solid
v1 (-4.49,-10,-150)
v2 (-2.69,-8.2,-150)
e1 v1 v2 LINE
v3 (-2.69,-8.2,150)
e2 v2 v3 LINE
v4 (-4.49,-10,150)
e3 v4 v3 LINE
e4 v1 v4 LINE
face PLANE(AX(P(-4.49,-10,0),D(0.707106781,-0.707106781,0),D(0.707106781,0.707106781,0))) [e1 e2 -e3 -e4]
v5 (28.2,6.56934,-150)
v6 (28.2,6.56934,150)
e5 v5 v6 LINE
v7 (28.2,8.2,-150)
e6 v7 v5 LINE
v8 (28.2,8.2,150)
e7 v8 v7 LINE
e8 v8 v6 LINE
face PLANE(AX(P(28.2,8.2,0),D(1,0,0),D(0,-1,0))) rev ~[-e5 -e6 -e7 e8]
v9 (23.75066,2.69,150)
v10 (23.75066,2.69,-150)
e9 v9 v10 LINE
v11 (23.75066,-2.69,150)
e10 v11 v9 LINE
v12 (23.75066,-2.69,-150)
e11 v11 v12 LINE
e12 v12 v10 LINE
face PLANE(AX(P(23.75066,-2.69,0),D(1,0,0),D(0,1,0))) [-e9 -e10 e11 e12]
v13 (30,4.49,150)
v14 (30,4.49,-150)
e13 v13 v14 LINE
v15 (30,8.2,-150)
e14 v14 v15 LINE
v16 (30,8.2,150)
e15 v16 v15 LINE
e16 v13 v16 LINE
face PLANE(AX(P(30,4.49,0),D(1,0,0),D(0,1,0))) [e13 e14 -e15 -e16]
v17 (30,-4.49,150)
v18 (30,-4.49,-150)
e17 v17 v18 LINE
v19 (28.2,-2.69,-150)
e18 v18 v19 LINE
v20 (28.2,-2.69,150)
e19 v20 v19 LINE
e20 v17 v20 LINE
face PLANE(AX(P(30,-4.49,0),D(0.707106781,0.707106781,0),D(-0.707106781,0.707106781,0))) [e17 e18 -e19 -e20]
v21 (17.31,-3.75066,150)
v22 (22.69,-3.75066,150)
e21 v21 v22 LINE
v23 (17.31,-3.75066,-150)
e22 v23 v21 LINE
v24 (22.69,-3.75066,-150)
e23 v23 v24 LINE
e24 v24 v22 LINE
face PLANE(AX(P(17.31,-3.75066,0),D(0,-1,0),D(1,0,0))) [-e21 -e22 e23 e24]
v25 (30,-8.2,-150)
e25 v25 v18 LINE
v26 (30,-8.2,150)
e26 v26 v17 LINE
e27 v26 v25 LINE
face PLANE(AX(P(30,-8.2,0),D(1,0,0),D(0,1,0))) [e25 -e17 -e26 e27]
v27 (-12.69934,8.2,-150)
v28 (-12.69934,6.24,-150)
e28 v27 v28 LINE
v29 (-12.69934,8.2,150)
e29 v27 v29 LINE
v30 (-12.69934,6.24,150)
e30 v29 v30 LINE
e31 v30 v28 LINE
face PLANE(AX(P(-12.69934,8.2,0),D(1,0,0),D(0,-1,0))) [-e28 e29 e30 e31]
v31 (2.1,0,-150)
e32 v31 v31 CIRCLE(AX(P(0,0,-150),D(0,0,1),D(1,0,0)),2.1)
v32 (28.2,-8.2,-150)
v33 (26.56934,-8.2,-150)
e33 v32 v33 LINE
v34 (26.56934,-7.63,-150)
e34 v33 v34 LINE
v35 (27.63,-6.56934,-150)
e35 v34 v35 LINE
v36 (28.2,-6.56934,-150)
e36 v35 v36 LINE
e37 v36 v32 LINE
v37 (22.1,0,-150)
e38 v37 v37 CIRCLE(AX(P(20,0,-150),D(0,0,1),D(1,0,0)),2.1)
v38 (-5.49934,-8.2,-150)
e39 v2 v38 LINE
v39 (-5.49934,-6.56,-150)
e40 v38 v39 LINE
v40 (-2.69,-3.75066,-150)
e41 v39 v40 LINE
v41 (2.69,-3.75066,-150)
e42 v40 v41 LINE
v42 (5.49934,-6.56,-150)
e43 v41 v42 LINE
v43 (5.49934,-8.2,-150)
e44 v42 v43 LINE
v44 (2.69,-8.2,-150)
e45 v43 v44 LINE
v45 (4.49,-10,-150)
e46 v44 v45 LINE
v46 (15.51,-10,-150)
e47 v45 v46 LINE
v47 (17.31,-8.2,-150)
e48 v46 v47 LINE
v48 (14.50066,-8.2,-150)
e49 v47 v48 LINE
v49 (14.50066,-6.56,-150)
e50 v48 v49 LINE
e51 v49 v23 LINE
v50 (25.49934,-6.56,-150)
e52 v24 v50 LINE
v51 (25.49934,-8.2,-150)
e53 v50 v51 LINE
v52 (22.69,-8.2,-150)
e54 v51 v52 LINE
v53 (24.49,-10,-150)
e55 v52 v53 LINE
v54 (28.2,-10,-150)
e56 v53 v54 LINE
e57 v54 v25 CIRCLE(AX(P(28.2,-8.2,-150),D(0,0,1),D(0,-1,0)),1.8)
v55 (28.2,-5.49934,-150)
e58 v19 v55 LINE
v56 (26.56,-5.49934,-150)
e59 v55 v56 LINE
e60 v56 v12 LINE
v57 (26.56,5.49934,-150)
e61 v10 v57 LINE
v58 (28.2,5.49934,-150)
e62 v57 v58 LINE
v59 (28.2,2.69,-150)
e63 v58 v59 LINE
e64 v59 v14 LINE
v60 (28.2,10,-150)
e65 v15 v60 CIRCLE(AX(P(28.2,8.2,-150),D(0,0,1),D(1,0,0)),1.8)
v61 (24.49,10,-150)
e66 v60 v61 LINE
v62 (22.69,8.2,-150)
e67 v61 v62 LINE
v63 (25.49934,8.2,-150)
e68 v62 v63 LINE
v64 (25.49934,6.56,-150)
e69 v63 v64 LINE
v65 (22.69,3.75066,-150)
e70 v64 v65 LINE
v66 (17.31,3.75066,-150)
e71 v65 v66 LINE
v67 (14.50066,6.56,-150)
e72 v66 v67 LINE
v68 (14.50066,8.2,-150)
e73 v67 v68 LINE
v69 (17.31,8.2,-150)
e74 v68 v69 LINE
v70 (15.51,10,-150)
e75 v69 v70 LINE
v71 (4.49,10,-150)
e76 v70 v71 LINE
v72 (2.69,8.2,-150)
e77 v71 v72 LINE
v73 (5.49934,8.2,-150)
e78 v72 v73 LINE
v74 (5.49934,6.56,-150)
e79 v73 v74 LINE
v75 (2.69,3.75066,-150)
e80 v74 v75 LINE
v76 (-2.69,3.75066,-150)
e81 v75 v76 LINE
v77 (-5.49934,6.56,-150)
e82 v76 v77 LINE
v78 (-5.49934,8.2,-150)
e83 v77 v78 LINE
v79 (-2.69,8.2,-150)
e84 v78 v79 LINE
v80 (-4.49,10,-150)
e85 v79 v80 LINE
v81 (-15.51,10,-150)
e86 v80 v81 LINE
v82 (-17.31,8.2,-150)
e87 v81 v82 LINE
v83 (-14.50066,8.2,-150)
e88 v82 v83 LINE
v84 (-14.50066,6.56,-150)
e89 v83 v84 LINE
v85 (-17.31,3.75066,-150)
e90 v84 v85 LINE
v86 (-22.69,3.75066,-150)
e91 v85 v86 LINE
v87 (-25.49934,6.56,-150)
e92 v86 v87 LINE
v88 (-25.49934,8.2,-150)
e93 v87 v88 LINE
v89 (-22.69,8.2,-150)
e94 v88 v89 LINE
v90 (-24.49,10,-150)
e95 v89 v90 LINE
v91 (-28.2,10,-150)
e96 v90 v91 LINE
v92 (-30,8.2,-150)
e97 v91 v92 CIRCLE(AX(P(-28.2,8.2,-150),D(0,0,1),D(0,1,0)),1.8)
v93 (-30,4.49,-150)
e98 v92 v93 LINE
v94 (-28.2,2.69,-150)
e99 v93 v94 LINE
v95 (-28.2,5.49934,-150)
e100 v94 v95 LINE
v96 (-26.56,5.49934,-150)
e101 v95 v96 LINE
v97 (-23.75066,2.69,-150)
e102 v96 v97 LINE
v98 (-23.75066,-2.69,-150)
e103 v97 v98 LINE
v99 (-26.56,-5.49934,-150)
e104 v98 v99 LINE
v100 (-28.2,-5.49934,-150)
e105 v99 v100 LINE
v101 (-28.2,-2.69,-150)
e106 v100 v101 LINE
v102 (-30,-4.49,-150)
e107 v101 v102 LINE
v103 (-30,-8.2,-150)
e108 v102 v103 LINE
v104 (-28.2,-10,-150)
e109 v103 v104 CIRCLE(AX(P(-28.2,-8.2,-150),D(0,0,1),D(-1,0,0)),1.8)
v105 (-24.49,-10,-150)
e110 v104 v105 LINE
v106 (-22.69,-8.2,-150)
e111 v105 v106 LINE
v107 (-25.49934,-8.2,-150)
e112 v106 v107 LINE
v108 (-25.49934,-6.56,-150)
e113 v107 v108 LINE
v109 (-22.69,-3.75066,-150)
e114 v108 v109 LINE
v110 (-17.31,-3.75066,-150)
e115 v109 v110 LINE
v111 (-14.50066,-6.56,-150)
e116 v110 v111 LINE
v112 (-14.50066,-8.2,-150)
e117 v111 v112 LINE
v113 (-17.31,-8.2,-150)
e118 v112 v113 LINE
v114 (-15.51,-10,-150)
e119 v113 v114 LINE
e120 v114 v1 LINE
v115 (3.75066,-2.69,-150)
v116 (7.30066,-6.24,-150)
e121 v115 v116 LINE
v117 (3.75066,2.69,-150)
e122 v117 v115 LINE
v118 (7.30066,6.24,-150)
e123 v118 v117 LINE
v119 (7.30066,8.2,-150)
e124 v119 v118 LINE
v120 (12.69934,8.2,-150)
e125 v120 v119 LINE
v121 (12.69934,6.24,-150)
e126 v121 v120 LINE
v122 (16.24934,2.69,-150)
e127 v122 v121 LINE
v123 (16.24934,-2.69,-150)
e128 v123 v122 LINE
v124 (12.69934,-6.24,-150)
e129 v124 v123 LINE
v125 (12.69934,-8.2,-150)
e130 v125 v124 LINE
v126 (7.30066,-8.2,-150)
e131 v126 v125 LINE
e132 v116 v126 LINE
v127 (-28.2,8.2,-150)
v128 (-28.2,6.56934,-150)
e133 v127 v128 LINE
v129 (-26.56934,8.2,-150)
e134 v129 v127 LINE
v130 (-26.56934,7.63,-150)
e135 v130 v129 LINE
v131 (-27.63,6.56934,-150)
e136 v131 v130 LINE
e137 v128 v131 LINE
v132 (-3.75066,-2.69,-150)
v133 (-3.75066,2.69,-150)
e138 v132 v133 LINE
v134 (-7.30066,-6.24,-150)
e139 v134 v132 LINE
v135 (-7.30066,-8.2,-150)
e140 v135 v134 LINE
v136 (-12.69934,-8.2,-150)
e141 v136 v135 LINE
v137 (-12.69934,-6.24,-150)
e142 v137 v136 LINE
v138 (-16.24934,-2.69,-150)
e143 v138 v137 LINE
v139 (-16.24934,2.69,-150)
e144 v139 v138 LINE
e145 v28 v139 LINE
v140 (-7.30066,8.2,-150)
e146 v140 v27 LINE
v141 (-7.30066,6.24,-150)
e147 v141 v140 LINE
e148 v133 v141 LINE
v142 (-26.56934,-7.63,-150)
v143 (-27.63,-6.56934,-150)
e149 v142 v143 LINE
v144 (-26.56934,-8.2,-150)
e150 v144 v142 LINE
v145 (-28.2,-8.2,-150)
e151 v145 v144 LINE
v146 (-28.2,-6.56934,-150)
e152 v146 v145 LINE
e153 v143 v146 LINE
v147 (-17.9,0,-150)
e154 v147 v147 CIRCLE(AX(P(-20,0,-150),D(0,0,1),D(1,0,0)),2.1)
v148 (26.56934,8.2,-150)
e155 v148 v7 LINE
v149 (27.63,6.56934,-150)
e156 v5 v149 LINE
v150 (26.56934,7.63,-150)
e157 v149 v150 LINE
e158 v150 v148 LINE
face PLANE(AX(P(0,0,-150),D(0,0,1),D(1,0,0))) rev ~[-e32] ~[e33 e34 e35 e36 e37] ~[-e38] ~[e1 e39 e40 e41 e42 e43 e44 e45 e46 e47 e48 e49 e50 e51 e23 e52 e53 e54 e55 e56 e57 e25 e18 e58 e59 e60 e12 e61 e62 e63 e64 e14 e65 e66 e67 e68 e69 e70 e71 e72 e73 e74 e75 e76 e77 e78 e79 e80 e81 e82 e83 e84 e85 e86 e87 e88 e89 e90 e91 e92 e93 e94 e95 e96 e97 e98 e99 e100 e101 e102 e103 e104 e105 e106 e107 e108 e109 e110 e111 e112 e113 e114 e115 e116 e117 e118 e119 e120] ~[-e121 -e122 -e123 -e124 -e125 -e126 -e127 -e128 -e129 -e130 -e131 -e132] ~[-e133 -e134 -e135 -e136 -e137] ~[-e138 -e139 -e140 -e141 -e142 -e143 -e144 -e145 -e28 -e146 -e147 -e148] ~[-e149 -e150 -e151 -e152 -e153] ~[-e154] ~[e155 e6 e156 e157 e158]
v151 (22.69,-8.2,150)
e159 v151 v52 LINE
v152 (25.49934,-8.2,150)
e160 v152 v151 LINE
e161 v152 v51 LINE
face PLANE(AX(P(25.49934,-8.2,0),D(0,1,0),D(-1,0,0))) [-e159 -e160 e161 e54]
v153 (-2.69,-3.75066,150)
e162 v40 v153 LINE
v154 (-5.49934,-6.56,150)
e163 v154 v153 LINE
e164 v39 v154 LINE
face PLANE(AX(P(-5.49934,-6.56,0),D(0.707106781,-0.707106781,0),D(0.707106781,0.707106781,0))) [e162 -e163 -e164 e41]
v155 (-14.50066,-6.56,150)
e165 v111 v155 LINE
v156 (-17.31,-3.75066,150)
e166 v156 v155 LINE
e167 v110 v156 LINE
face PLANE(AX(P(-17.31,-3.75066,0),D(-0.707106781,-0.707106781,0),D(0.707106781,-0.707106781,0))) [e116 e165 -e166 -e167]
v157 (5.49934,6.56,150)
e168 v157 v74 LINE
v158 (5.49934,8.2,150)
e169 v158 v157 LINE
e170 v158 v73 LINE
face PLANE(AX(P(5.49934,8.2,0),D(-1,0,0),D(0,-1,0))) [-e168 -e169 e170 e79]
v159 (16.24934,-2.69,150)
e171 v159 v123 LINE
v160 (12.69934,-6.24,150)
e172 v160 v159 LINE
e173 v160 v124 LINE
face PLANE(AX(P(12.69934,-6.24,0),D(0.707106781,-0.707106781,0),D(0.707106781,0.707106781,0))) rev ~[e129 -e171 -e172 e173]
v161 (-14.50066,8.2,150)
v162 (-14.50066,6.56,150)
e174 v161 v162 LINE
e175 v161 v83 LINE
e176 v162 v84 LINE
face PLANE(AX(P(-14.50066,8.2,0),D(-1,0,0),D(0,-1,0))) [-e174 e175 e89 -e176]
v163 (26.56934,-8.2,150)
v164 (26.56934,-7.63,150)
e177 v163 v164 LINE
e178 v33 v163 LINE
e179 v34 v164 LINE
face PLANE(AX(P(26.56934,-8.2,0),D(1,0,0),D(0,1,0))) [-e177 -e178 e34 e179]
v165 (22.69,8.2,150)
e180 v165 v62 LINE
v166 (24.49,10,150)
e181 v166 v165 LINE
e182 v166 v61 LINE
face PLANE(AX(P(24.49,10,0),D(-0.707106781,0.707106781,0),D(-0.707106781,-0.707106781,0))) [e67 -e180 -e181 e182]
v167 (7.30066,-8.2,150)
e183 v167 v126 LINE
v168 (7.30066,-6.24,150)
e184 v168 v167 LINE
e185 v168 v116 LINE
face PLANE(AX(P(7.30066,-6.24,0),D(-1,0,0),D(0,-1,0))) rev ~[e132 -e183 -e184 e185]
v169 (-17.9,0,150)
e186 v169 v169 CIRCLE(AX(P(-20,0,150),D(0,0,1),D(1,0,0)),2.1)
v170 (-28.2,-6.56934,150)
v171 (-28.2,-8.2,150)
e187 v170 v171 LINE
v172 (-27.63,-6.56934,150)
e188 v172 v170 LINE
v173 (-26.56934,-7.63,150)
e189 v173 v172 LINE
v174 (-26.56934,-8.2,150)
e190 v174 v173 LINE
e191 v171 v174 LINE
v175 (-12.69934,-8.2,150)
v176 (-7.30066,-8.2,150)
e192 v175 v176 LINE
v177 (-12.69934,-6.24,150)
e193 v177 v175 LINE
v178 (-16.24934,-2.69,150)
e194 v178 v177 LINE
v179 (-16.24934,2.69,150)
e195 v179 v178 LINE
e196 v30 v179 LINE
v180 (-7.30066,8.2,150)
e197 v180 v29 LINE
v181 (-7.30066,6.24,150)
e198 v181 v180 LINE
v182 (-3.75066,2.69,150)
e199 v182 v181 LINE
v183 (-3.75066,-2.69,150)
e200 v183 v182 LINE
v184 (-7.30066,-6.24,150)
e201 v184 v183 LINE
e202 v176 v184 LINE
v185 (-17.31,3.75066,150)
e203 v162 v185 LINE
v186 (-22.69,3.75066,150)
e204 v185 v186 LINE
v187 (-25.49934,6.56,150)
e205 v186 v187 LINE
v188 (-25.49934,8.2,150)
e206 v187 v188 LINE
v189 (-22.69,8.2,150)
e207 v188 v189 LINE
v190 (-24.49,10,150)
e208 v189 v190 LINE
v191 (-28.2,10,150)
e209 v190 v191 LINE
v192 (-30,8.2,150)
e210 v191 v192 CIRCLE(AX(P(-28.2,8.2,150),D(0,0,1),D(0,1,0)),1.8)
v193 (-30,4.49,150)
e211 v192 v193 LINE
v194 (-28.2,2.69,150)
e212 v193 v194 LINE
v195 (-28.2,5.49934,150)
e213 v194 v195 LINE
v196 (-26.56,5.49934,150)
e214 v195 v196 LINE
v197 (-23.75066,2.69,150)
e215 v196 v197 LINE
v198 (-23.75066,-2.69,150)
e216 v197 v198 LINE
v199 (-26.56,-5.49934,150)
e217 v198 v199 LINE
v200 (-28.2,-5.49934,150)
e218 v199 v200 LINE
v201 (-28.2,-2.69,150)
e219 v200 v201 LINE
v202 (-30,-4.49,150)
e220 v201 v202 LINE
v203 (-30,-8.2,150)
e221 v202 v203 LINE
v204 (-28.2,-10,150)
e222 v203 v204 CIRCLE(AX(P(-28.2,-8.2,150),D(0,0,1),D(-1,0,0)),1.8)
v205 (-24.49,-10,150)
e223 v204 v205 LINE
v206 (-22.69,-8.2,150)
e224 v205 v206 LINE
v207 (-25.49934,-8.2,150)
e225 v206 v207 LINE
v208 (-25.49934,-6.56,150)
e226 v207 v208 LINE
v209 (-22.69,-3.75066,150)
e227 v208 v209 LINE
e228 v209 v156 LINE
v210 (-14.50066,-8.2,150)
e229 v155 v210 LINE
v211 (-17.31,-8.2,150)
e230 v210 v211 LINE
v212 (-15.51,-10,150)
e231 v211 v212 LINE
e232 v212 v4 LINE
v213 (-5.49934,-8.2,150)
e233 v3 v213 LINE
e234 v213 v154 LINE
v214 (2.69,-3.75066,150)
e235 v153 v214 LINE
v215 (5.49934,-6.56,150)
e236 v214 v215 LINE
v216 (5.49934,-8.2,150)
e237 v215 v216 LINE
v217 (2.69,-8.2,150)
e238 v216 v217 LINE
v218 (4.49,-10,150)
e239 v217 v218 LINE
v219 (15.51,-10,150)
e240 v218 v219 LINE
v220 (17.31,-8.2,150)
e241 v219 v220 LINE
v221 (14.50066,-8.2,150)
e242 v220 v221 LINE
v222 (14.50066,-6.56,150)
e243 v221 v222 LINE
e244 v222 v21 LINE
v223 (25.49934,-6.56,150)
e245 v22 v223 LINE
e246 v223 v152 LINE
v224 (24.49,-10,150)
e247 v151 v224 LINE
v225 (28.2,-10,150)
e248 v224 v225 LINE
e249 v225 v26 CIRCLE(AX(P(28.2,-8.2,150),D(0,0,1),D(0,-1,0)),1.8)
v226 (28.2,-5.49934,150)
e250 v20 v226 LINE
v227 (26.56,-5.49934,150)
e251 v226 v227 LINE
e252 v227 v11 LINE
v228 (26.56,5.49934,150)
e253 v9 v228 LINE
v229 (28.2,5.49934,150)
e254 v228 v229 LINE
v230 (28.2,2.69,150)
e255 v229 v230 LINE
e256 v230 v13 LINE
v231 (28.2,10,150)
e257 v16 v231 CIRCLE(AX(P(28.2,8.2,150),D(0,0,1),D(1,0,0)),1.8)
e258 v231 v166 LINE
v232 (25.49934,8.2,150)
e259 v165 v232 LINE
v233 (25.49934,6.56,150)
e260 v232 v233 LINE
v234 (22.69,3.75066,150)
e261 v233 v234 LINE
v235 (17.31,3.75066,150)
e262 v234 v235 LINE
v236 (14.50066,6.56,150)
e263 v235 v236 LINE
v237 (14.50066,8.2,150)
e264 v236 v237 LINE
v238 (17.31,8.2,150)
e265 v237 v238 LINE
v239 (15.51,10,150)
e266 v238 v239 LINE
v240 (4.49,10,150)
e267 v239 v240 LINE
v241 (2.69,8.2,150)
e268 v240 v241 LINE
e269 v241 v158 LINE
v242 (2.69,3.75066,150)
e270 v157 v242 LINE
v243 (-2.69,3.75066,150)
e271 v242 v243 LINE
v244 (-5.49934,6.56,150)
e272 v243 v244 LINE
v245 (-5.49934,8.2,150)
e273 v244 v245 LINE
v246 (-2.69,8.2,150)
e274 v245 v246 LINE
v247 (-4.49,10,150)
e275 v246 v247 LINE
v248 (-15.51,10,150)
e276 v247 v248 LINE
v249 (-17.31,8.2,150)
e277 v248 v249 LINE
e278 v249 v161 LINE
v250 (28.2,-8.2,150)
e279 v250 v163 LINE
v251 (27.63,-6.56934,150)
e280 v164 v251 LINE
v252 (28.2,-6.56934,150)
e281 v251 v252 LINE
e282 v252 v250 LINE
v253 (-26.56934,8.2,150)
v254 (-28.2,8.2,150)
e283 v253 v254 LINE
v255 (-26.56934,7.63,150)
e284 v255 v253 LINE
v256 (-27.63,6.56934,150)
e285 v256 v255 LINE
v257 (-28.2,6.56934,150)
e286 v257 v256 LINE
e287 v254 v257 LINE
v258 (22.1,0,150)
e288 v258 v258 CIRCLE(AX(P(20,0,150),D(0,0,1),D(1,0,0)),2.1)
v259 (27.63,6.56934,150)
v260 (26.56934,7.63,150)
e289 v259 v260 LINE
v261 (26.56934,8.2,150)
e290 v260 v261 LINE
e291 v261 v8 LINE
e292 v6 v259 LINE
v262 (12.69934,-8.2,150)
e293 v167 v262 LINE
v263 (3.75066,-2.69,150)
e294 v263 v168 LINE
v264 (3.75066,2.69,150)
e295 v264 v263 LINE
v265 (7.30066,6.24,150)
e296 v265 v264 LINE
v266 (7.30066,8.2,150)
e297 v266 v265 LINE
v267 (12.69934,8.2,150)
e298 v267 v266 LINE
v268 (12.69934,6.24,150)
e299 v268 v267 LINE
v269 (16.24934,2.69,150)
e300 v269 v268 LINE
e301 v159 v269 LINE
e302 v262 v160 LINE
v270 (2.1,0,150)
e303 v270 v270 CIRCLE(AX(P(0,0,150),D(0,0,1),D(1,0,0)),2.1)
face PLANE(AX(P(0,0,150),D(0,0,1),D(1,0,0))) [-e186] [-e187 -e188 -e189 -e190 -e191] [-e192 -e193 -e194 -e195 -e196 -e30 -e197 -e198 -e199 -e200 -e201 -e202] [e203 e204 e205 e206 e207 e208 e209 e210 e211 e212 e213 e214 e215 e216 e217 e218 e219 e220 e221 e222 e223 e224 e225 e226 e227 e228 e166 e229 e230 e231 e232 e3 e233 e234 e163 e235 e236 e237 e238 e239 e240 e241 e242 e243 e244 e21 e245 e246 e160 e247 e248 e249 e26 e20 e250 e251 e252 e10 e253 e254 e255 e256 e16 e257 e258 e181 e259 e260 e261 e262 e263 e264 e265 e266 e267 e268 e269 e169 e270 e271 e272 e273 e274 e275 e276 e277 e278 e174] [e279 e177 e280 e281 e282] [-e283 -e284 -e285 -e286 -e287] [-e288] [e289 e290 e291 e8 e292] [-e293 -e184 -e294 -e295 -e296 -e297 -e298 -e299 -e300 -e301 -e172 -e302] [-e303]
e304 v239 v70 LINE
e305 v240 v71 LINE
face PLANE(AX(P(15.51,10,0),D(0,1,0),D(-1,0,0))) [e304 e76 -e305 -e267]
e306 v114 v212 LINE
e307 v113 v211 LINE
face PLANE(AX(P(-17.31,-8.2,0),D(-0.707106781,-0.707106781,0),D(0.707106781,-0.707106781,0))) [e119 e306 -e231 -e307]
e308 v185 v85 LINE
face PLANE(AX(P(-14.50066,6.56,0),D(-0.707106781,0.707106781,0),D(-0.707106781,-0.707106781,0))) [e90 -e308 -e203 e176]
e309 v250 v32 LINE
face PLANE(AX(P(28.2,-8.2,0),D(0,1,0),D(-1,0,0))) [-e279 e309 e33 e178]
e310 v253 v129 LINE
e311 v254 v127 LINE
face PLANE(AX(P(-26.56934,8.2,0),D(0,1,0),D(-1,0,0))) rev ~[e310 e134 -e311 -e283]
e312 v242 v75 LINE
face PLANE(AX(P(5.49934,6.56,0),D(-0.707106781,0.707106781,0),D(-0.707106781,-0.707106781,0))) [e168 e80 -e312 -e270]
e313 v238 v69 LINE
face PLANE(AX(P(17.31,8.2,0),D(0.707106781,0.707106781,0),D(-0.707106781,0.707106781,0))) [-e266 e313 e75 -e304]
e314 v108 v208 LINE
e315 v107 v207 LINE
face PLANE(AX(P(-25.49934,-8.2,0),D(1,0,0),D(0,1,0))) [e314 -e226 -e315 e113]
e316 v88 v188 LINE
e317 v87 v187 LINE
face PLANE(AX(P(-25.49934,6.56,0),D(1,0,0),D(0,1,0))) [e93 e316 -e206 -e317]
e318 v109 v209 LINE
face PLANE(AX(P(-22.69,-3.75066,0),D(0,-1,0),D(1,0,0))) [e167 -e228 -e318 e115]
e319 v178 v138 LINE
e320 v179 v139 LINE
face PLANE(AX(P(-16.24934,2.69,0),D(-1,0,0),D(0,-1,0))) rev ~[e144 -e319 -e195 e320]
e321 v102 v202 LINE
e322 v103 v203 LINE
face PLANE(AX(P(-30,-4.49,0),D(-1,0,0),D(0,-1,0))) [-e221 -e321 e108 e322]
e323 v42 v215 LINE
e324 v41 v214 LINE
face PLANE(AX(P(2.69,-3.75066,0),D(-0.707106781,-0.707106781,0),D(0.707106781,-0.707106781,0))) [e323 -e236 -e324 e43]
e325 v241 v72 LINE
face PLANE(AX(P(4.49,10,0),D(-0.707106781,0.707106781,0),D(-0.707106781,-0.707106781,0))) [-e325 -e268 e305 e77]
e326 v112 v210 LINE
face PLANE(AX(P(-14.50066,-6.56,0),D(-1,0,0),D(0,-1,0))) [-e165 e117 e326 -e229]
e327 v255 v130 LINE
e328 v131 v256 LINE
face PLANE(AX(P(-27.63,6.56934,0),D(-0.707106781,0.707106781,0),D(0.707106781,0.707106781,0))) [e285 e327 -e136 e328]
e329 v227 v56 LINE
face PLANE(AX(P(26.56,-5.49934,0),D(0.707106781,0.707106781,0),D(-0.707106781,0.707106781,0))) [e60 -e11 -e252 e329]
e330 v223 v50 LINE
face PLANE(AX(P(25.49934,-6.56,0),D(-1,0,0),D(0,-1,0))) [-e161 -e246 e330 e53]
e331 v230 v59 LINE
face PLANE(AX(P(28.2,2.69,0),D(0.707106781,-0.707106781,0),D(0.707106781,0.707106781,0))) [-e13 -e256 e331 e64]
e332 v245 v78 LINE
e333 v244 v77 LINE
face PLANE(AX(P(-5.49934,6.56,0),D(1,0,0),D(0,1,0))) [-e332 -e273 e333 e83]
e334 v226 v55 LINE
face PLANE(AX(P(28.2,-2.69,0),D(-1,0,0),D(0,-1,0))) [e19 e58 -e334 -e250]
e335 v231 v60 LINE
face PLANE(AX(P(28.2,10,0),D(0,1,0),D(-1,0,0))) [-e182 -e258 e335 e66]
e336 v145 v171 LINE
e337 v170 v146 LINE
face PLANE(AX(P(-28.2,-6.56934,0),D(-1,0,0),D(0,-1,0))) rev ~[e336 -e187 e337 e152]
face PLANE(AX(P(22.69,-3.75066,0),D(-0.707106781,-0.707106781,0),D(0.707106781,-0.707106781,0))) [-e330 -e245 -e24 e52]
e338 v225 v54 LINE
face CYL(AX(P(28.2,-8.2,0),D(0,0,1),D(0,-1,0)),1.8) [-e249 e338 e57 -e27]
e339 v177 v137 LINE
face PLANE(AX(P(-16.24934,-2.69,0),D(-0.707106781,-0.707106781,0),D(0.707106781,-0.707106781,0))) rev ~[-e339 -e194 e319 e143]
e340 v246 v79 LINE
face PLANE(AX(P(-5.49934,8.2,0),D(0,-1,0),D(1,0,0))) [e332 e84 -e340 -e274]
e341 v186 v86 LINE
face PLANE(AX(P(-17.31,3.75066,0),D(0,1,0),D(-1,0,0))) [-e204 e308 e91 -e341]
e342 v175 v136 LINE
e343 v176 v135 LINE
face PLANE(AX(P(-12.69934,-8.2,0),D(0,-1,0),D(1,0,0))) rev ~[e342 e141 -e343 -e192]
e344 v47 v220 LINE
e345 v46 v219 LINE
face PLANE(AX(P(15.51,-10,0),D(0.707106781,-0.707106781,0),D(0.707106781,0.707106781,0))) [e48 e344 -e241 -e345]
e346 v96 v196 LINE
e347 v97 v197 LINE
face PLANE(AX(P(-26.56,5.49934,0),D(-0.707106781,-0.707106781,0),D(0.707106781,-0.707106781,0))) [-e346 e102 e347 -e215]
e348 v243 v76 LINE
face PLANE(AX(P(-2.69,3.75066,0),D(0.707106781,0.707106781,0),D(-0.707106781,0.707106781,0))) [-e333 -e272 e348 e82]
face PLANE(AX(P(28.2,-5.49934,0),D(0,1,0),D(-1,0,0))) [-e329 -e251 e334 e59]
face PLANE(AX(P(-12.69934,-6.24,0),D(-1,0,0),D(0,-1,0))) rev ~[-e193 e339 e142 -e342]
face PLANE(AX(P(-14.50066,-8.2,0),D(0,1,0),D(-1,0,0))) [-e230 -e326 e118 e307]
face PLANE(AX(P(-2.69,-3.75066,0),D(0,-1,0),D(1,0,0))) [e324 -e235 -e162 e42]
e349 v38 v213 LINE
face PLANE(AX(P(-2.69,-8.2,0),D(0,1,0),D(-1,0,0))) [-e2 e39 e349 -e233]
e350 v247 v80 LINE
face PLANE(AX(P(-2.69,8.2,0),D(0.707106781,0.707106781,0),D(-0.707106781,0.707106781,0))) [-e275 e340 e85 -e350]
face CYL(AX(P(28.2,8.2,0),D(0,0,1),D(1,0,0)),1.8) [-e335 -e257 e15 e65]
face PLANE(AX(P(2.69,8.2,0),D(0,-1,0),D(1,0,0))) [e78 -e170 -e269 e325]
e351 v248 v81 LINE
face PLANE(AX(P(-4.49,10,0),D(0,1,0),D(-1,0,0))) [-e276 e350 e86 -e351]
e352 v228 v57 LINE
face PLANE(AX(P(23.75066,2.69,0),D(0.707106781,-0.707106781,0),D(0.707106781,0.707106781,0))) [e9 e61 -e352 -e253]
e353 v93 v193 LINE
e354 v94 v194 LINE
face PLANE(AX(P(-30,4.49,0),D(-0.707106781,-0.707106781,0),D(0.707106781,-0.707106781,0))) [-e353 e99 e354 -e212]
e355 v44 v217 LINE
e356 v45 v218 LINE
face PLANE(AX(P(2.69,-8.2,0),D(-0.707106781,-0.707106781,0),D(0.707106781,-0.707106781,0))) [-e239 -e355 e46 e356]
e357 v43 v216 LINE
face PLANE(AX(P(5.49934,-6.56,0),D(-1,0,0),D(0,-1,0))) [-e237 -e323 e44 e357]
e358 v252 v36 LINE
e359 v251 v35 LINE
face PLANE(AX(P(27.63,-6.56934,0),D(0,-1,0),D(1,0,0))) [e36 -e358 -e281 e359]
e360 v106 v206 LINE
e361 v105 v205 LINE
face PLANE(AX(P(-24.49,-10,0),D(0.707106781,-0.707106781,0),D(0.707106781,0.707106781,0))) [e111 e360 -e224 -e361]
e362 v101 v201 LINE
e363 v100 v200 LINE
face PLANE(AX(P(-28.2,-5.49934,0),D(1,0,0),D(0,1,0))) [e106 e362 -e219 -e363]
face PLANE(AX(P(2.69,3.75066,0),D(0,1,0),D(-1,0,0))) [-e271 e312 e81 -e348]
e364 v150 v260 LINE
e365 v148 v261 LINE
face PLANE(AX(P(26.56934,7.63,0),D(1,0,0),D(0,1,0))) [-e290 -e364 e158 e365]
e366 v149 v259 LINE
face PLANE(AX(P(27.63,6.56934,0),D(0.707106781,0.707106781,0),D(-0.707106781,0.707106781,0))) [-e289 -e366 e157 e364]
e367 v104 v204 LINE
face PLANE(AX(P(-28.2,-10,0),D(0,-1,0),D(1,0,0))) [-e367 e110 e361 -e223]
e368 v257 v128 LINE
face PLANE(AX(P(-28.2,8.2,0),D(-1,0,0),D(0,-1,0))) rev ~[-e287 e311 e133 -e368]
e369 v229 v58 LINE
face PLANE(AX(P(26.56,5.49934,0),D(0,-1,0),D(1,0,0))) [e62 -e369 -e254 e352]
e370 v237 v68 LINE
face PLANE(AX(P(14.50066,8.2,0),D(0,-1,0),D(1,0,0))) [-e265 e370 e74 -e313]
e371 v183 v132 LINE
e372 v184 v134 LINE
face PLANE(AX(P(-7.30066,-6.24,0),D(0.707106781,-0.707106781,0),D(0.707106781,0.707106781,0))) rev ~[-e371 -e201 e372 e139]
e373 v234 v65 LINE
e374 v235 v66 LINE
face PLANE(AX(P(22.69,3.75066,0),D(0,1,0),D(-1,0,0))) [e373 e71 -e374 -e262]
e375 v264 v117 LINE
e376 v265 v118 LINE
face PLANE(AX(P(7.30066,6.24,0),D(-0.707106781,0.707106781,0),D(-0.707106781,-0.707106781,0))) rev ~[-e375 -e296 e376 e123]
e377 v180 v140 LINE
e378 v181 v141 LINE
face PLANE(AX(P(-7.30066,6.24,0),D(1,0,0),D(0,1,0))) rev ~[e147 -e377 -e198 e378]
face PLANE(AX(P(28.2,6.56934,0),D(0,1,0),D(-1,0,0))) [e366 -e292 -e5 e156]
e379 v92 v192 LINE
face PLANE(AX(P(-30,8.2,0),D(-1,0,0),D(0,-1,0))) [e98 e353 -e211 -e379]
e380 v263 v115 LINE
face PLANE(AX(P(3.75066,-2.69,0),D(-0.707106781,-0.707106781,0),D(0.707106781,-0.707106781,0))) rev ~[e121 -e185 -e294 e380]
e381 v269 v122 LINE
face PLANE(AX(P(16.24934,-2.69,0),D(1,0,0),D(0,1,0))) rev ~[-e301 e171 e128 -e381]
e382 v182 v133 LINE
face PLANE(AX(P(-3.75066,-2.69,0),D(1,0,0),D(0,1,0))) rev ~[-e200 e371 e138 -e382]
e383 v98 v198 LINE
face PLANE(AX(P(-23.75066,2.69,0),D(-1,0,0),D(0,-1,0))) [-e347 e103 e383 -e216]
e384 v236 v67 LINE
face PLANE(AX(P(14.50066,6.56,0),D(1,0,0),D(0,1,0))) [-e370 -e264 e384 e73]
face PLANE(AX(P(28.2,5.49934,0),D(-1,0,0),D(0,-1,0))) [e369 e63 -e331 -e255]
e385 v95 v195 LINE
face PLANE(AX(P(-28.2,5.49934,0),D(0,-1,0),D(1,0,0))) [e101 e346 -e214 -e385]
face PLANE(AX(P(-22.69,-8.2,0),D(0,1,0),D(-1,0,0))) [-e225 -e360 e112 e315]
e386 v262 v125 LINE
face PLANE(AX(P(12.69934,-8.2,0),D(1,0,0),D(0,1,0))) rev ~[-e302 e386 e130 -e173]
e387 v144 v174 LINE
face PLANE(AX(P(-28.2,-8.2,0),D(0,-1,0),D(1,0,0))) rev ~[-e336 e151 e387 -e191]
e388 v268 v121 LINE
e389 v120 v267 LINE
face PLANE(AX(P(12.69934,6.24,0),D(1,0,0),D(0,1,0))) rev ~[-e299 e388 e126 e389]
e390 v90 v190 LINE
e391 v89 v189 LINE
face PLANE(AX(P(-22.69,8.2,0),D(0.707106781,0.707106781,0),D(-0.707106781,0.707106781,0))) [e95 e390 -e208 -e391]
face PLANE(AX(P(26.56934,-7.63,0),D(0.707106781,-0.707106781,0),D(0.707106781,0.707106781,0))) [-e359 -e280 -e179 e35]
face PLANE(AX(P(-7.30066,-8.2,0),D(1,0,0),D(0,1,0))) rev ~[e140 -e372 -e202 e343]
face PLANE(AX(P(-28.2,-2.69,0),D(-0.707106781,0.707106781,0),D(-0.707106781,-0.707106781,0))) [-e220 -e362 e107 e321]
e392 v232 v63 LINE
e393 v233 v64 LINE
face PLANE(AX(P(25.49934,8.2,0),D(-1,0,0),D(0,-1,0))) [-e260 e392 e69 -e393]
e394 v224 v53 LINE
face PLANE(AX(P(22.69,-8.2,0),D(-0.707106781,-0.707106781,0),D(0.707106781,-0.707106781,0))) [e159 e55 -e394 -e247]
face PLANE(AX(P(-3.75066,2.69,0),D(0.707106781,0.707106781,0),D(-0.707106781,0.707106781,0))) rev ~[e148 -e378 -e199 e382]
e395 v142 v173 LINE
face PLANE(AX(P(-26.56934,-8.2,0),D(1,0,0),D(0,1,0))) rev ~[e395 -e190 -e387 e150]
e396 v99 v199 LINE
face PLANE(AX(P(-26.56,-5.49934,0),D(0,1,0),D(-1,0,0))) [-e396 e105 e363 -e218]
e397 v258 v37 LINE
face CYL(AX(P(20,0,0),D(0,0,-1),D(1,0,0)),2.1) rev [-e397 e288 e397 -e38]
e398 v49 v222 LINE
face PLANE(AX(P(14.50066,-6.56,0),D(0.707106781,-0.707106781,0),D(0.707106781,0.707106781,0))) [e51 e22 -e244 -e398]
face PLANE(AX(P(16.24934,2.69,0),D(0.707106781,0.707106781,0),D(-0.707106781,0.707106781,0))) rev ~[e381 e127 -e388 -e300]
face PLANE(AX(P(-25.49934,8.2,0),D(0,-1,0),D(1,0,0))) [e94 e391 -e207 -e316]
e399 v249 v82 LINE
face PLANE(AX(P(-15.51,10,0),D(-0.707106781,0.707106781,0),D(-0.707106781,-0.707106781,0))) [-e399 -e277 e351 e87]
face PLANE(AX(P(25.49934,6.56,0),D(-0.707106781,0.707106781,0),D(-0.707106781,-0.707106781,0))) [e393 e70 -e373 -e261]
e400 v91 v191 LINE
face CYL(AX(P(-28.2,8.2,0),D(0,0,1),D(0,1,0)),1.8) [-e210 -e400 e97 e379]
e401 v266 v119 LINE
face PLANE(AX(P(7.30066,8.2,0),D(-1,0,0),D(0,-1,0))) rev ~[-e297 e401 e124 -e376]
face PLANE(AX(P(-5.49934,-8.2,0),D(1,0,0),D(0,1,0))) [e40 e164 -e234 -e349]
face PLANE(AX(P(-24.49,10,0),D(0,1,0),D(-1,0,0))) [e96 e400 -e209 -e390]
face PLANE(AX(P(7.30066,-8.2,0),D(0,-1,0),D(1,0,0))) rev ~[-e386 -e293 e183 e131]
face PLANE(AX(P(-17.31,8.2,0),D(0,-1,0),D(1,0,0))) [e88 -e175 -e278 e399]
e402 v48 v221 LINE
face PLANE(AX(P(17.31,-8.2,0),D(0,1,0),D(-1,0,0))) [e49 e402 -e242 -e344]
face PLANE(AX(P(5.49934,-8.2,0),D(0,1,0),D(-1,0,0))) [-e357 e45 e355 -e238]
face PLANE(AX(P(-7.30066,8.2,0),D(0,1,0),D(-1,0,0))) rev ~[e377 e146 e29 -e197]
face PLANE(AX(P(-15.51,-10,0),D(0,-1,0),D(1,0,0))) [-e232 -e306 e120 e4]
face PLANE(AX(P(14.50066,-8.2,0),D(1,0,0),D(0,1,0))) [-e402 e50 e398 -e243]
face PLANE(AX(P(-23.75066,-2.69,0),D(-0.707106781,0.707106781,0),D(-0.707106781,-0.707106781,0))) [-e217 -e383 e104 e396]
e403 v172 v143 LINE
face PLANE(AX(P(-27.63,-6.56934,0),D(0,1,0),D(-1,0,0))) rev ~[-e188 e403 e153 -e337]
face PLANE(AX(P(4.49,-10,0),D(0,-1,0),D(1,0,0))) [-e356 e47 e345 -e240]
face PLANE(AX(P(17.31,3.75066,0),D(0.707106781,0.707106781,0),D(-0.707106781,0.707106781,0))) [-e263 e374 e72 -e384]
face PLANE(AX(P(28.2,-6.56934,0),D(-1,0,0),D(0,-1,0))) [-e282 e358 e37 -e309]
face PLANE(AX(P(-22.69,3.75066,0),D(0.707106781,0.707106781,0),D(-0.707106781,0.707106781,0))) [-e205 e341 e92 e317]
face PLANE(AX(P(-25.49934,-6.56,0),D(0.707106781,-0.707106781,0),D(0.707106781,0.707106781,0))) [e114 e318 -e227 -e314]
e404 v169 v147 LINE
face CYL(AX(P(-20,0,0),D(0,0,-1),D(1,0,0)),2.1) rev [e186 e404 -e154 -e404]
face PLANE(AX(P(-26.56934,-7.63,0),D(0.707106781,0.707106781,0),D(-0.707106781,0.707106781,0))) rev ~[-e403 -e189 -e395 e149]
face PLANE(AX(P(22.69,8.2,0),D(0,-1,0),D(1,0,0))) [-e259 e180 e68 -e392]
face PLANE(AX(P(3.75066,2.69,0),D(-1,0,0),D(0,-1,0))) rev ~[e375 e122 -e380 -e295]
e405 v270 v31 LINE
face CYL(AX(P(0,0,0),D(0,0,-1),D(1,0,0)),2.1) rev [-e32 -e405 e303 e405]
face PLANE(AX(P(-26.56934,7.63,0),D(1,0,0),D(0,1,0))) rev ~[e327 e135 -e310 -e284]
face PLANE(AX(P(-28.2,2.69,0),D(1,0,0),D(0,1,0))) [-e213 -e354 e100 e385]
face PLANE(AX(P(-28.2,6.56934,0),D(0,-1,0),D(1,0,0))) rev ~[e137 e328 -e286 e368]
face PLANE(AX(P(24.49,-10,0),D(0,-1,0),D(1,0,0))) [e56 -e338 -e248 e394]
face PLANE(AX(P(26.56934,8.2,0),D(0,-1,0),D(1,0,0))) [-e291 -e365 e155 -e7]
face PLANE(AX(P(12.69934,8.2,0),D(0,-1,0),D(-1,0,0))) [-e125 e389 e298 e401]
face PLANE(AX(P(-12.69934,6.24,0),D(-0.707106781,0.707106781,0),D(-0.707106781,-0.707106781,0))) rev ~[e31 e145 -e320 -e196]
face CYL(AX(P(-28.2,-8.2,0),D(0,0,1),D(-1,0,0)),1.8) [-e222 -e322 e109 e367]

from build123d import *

# Parameters (mm, degrees)
ESQUISSE1_R        = 2.1
BOSS_EXTRU_1_DEPTH = 150


with BuildPart() as part:
    # Esquisse1 → Boss.-Extru.1 (new, symmetric)
    with BuildSketch(Plane.XY):
        with BuildLine():
            Line((-20, 3.750660172), (-22.69, 3.750660172))
            Line((-22.69, 3.750660172), (-25.499339828, 6.56))
            Line((-25.499339828, 6.56), (-25.499339828, 8.2))
            Line((-25.499339828, 8.2), (-22.69, 8.2))
            Line((-22.69, 8.2), (-24.49, 10))
            Line((-24.49, 10), (-28.2, 10))
            ThreePointArc((-28.2, 10), (-29.472792206, 9.472792206), (-30, 8.2))
            Line((-30, 8.2), (-30, 4.49))
            Line((-30, 4.49), (-28.2, 2.69))
            Line((-28.2, 2.69), (-28.2, 5.499339828))
            Line((-28.2, 5.499339828), (-26.56, 5.499339828))
            Line((-26.56, 5.499339828), (-23.750660172, 2.69))
            Line((-23.750660172, 2.69), (-23.750660172, 0))
            Line((-23.750660172, 0), (-23.750660172, -2.69))
            Line((-23.750660172, -2.69), (-26.56, -5.499339828))
            Line((-26.56, -5.499339828), (-28.2, -5.499339828))
            Line((-28.2, -5.499339828), (-28.2, -2.69))
            Line((-28.2, -2.69), (-30, -4.49))
            Line((-30, -4.49), (-30, -8.2))
            ThreePointArc((-30, -8.2), (-29.472792206, -9.472792206), (-28.2, -10))
            Line((-28.2, -10), (-24.49, -10))
            Line((-24.49, -10), (-22.69, -8.2))
            Line((-22.69, -8.2), (-25.499339828, -8.2))
            Line((-25.499339828, -8.2), (-25.499339828, -6.56))
            Line((-25.499339828, -6.56), (-22.69, -3.750660172))
            Line((-22.69, -3.750660172), (-20, -3.750660172))
            Line((-20, -3.750660172), (-17.31, -3.750660172))
            Line((-17.31, -3.750660172), (-14.500660172, -6.56))
            Line((-14.500660172, -6.56), (-14.500660172, -8.2))
            Line((-14.500660172, -8.2), (-17.31, -8.2))
            Line((-17.31, -8.2), (-15.51, -10))
            Line((-15.51, -10), (-4.49, -10))
            Line((-4.49, -10), (-2.69, -8.2))
            Line((-2.69, -8.2), (-5.499339828, -8.2))
            Line((-5.499339828, -8.2), (-5.499339828, -6.56))
            Line((-5.499339828, -6.56), (-2.69, -3.750660172))
            Line((-2.69, -3.750660172), (2.69, -3.750660172))
            Line((2.69, -3.750660172), (5.499339828, -6.56))
            Line((5.499339828, -6.56), (5.499339828, -8.2))
            Line((5.499339828, -8.2), (2.69, -8.2))
            Line((2.69, -8.2), (4.49, -10))
            Line((4.49, -10), (15.51, -10))
            Line((15.51, -10), (17.31, -8.2))
            Line((17.31, -8.2), (14.500660172, -8.2))
            Line((14.500660172, -8.2), (14.500660172, -6.56))
            Line((14.500660172, -6.56), (17.31, -3.750660172))
            Line((17.31, -3.750660172), (20, -3.750660172))
            Line((20, -3.750660172), (22.69, -3.750660172))
            Line((22.69, -3.750660172), (25.499339828, -6.56))
            Line((25.499339828, -6.56), (25.499339828, -8.2))
            Line((25.499339828, -8.2), (22.69, -8.2))
            Line((22.69, -8.2), (24.49, -10))
            Line((24.49, -10), (28.2, -10))
            ThreePointArc((28.2, -10), (29.472792206, -9.472792206), (30, -8.2))
            Line((30, -8.2), (30, -4.49))
            Line((30, -4.49), (28.2, -2.69))
            Line((28.2, -2.69), (28.2, -5.499339828))
            Line((28.2, -5.499339828), (26.56, -5.499339828))
            Line((26.56, -5.499339828), (23.750660172, -2.69))
            Line((23.750660172, -2.69), (23.750660172, 0))
            Line((23.750660172, 0), (23.750660172, 2.69))
            Line((23.750660172, 2.69), (26.56, 5.499339828))
            Line((26.56, 5.499339828), (28.2, 5.499339828))
            Line((28.2, 5.499339828), (28.2, 2.69))
            Line((28.2, 2.69), (30, 4.49))
            Line((30, 4.49), (30, 8.2))
            ThreePointArc((30, 8.2), (29.472792206, 9.472792206), (28.2, 10))
            Line((28.2, 10), (24.49, 10))
            Line((24.49, 10), (22.69, 8.2))
            Line((22.69, 8.2), (25.499339828, 8.2))
            Line((25.499339828, 8.2), (25.499339828, 6.56))
            Line((25.499339828, 6.56), (22.69, 3.750660172))
            Line((22.69, 3.750660172), (20, 3.750660172))
            Line((20, 3.750660172), (17.31, 3.750660172))
            Line((17.31, 3.750660172), (14.500660172, 6.56))
            Line((14.500660172, 6.56), (14.500660172, 8.2))
            Line((14.500660172, 8.2), (17.31, 8.2))
            Line((17.31, 8.2), (15.51, 10))
            Line((15.51, 10), (4.49, 10))
            Line((4.49, 10), (2.69, 8.2))
            Line((2.69, 8.2), (5.499339828, 8.2))
            Line((5.499339828, 8.2), (5.499339828, 6.56))
            Line((5.499339828, 6.56), (2.69, 3.750660172))
            Line((2.69, 3.750660172), (-2.69, 3.750660172))
            Line((-2.69, 3.750660172), (-5.499339828, 6.56))
            Line((-5.499339828, 6.56), (-5.499339828, 8.2))
            Line((-5.499339828, 8.2), (-2.69, 8.2))
            Line((-2.69, 8.2), (-4.49, 10))
            Line((-4.49, 10), (-15.51, 10))
            Line((-15.51, 10), (-17.31, 8.2))
            Line((-17.31, 8.2), (-14.500660172, 8.2))
            Line((-14.500660172, 8.2), (-14.500660172, 6.56))
            Line((-14.500660172, 6.56), (-17.31, 3.750660172))
            Line((-17.31, 3.750660172), (-20, 3.750660172))
        make_face()
        Circle(ESQUISSE1_R, mode=Mode.SUBTRACT)
        with Locations((-20, 0)):
            Circle(ESQUISSE1_R, mode=Mode.SUBTRACT)
        with Locations((20, 0)):
            Circle(ESQUISSE1_R, mode=Mode.SUBTRACT)
        Polygon((-28.2, 8.2), (-28.2, 6.569339828), (-27.63, 6.569339828), (-26.569339828, 7.63), (-26.569339828, 8.2), align=None, mode=Mode.SUBTRACT)
        Polygon((-26.569339828, -7.63), (-27.63, -6.569339828), (-28.2, -6.569339828), (-28.2, -8.2), (-26.569339828, -8.2), align=None, mode=Mode.SUBTRACT)
        Polygon((-7.300660172, -8.2), (-7.300660172, -6.24), (-3.750660172, -2.69), (-3.750660172, 2.69), (-7.300660172, 6.24), (-7.300660172, 8.2), (-12.699339828, 8.2), (-12.699339828, 6.24), (-16.249339828, 2.69), (-16.249339828, -2.69), (-12.699339828, -6.24), (-12.699339828, -8.2), align=None, mode=Mode.SUBTRACT)
        Polygon((26.569339828, 8.2), (28.2, 8.2), (28.2, 6.569339828), (27.63, 6.569339828), (26.569339828, 7.63), align=None, mode=Mode.SUBTRACT)
        Polygon((26.569339828, -8.2), (26.569339828, -7.63), (27.63, -6.569339828), (28.2, -6.569339828), (28.2, -8.2), align=None, mode=Mode.SUBTRACT)
        Polygon((7.300660172, 8.2), (7.300660172, 6.24), (3.750660172, 2.69), (3.750660172, -2.69), (7.300660172, -6.24), (7.300660172, -8.2), (12.699339828, -8.2), (12.699339828, -6.24), (16.249339828, -2.69), (16.249339828, 2.69), (12.699339828, 6.24), (12.699339828, 8.2), align=None, mode=Mode.SUBTRACT)
    extrude(amount=BOSS_EXTRU_1_DEPTH, both=True)


solid = part.part
